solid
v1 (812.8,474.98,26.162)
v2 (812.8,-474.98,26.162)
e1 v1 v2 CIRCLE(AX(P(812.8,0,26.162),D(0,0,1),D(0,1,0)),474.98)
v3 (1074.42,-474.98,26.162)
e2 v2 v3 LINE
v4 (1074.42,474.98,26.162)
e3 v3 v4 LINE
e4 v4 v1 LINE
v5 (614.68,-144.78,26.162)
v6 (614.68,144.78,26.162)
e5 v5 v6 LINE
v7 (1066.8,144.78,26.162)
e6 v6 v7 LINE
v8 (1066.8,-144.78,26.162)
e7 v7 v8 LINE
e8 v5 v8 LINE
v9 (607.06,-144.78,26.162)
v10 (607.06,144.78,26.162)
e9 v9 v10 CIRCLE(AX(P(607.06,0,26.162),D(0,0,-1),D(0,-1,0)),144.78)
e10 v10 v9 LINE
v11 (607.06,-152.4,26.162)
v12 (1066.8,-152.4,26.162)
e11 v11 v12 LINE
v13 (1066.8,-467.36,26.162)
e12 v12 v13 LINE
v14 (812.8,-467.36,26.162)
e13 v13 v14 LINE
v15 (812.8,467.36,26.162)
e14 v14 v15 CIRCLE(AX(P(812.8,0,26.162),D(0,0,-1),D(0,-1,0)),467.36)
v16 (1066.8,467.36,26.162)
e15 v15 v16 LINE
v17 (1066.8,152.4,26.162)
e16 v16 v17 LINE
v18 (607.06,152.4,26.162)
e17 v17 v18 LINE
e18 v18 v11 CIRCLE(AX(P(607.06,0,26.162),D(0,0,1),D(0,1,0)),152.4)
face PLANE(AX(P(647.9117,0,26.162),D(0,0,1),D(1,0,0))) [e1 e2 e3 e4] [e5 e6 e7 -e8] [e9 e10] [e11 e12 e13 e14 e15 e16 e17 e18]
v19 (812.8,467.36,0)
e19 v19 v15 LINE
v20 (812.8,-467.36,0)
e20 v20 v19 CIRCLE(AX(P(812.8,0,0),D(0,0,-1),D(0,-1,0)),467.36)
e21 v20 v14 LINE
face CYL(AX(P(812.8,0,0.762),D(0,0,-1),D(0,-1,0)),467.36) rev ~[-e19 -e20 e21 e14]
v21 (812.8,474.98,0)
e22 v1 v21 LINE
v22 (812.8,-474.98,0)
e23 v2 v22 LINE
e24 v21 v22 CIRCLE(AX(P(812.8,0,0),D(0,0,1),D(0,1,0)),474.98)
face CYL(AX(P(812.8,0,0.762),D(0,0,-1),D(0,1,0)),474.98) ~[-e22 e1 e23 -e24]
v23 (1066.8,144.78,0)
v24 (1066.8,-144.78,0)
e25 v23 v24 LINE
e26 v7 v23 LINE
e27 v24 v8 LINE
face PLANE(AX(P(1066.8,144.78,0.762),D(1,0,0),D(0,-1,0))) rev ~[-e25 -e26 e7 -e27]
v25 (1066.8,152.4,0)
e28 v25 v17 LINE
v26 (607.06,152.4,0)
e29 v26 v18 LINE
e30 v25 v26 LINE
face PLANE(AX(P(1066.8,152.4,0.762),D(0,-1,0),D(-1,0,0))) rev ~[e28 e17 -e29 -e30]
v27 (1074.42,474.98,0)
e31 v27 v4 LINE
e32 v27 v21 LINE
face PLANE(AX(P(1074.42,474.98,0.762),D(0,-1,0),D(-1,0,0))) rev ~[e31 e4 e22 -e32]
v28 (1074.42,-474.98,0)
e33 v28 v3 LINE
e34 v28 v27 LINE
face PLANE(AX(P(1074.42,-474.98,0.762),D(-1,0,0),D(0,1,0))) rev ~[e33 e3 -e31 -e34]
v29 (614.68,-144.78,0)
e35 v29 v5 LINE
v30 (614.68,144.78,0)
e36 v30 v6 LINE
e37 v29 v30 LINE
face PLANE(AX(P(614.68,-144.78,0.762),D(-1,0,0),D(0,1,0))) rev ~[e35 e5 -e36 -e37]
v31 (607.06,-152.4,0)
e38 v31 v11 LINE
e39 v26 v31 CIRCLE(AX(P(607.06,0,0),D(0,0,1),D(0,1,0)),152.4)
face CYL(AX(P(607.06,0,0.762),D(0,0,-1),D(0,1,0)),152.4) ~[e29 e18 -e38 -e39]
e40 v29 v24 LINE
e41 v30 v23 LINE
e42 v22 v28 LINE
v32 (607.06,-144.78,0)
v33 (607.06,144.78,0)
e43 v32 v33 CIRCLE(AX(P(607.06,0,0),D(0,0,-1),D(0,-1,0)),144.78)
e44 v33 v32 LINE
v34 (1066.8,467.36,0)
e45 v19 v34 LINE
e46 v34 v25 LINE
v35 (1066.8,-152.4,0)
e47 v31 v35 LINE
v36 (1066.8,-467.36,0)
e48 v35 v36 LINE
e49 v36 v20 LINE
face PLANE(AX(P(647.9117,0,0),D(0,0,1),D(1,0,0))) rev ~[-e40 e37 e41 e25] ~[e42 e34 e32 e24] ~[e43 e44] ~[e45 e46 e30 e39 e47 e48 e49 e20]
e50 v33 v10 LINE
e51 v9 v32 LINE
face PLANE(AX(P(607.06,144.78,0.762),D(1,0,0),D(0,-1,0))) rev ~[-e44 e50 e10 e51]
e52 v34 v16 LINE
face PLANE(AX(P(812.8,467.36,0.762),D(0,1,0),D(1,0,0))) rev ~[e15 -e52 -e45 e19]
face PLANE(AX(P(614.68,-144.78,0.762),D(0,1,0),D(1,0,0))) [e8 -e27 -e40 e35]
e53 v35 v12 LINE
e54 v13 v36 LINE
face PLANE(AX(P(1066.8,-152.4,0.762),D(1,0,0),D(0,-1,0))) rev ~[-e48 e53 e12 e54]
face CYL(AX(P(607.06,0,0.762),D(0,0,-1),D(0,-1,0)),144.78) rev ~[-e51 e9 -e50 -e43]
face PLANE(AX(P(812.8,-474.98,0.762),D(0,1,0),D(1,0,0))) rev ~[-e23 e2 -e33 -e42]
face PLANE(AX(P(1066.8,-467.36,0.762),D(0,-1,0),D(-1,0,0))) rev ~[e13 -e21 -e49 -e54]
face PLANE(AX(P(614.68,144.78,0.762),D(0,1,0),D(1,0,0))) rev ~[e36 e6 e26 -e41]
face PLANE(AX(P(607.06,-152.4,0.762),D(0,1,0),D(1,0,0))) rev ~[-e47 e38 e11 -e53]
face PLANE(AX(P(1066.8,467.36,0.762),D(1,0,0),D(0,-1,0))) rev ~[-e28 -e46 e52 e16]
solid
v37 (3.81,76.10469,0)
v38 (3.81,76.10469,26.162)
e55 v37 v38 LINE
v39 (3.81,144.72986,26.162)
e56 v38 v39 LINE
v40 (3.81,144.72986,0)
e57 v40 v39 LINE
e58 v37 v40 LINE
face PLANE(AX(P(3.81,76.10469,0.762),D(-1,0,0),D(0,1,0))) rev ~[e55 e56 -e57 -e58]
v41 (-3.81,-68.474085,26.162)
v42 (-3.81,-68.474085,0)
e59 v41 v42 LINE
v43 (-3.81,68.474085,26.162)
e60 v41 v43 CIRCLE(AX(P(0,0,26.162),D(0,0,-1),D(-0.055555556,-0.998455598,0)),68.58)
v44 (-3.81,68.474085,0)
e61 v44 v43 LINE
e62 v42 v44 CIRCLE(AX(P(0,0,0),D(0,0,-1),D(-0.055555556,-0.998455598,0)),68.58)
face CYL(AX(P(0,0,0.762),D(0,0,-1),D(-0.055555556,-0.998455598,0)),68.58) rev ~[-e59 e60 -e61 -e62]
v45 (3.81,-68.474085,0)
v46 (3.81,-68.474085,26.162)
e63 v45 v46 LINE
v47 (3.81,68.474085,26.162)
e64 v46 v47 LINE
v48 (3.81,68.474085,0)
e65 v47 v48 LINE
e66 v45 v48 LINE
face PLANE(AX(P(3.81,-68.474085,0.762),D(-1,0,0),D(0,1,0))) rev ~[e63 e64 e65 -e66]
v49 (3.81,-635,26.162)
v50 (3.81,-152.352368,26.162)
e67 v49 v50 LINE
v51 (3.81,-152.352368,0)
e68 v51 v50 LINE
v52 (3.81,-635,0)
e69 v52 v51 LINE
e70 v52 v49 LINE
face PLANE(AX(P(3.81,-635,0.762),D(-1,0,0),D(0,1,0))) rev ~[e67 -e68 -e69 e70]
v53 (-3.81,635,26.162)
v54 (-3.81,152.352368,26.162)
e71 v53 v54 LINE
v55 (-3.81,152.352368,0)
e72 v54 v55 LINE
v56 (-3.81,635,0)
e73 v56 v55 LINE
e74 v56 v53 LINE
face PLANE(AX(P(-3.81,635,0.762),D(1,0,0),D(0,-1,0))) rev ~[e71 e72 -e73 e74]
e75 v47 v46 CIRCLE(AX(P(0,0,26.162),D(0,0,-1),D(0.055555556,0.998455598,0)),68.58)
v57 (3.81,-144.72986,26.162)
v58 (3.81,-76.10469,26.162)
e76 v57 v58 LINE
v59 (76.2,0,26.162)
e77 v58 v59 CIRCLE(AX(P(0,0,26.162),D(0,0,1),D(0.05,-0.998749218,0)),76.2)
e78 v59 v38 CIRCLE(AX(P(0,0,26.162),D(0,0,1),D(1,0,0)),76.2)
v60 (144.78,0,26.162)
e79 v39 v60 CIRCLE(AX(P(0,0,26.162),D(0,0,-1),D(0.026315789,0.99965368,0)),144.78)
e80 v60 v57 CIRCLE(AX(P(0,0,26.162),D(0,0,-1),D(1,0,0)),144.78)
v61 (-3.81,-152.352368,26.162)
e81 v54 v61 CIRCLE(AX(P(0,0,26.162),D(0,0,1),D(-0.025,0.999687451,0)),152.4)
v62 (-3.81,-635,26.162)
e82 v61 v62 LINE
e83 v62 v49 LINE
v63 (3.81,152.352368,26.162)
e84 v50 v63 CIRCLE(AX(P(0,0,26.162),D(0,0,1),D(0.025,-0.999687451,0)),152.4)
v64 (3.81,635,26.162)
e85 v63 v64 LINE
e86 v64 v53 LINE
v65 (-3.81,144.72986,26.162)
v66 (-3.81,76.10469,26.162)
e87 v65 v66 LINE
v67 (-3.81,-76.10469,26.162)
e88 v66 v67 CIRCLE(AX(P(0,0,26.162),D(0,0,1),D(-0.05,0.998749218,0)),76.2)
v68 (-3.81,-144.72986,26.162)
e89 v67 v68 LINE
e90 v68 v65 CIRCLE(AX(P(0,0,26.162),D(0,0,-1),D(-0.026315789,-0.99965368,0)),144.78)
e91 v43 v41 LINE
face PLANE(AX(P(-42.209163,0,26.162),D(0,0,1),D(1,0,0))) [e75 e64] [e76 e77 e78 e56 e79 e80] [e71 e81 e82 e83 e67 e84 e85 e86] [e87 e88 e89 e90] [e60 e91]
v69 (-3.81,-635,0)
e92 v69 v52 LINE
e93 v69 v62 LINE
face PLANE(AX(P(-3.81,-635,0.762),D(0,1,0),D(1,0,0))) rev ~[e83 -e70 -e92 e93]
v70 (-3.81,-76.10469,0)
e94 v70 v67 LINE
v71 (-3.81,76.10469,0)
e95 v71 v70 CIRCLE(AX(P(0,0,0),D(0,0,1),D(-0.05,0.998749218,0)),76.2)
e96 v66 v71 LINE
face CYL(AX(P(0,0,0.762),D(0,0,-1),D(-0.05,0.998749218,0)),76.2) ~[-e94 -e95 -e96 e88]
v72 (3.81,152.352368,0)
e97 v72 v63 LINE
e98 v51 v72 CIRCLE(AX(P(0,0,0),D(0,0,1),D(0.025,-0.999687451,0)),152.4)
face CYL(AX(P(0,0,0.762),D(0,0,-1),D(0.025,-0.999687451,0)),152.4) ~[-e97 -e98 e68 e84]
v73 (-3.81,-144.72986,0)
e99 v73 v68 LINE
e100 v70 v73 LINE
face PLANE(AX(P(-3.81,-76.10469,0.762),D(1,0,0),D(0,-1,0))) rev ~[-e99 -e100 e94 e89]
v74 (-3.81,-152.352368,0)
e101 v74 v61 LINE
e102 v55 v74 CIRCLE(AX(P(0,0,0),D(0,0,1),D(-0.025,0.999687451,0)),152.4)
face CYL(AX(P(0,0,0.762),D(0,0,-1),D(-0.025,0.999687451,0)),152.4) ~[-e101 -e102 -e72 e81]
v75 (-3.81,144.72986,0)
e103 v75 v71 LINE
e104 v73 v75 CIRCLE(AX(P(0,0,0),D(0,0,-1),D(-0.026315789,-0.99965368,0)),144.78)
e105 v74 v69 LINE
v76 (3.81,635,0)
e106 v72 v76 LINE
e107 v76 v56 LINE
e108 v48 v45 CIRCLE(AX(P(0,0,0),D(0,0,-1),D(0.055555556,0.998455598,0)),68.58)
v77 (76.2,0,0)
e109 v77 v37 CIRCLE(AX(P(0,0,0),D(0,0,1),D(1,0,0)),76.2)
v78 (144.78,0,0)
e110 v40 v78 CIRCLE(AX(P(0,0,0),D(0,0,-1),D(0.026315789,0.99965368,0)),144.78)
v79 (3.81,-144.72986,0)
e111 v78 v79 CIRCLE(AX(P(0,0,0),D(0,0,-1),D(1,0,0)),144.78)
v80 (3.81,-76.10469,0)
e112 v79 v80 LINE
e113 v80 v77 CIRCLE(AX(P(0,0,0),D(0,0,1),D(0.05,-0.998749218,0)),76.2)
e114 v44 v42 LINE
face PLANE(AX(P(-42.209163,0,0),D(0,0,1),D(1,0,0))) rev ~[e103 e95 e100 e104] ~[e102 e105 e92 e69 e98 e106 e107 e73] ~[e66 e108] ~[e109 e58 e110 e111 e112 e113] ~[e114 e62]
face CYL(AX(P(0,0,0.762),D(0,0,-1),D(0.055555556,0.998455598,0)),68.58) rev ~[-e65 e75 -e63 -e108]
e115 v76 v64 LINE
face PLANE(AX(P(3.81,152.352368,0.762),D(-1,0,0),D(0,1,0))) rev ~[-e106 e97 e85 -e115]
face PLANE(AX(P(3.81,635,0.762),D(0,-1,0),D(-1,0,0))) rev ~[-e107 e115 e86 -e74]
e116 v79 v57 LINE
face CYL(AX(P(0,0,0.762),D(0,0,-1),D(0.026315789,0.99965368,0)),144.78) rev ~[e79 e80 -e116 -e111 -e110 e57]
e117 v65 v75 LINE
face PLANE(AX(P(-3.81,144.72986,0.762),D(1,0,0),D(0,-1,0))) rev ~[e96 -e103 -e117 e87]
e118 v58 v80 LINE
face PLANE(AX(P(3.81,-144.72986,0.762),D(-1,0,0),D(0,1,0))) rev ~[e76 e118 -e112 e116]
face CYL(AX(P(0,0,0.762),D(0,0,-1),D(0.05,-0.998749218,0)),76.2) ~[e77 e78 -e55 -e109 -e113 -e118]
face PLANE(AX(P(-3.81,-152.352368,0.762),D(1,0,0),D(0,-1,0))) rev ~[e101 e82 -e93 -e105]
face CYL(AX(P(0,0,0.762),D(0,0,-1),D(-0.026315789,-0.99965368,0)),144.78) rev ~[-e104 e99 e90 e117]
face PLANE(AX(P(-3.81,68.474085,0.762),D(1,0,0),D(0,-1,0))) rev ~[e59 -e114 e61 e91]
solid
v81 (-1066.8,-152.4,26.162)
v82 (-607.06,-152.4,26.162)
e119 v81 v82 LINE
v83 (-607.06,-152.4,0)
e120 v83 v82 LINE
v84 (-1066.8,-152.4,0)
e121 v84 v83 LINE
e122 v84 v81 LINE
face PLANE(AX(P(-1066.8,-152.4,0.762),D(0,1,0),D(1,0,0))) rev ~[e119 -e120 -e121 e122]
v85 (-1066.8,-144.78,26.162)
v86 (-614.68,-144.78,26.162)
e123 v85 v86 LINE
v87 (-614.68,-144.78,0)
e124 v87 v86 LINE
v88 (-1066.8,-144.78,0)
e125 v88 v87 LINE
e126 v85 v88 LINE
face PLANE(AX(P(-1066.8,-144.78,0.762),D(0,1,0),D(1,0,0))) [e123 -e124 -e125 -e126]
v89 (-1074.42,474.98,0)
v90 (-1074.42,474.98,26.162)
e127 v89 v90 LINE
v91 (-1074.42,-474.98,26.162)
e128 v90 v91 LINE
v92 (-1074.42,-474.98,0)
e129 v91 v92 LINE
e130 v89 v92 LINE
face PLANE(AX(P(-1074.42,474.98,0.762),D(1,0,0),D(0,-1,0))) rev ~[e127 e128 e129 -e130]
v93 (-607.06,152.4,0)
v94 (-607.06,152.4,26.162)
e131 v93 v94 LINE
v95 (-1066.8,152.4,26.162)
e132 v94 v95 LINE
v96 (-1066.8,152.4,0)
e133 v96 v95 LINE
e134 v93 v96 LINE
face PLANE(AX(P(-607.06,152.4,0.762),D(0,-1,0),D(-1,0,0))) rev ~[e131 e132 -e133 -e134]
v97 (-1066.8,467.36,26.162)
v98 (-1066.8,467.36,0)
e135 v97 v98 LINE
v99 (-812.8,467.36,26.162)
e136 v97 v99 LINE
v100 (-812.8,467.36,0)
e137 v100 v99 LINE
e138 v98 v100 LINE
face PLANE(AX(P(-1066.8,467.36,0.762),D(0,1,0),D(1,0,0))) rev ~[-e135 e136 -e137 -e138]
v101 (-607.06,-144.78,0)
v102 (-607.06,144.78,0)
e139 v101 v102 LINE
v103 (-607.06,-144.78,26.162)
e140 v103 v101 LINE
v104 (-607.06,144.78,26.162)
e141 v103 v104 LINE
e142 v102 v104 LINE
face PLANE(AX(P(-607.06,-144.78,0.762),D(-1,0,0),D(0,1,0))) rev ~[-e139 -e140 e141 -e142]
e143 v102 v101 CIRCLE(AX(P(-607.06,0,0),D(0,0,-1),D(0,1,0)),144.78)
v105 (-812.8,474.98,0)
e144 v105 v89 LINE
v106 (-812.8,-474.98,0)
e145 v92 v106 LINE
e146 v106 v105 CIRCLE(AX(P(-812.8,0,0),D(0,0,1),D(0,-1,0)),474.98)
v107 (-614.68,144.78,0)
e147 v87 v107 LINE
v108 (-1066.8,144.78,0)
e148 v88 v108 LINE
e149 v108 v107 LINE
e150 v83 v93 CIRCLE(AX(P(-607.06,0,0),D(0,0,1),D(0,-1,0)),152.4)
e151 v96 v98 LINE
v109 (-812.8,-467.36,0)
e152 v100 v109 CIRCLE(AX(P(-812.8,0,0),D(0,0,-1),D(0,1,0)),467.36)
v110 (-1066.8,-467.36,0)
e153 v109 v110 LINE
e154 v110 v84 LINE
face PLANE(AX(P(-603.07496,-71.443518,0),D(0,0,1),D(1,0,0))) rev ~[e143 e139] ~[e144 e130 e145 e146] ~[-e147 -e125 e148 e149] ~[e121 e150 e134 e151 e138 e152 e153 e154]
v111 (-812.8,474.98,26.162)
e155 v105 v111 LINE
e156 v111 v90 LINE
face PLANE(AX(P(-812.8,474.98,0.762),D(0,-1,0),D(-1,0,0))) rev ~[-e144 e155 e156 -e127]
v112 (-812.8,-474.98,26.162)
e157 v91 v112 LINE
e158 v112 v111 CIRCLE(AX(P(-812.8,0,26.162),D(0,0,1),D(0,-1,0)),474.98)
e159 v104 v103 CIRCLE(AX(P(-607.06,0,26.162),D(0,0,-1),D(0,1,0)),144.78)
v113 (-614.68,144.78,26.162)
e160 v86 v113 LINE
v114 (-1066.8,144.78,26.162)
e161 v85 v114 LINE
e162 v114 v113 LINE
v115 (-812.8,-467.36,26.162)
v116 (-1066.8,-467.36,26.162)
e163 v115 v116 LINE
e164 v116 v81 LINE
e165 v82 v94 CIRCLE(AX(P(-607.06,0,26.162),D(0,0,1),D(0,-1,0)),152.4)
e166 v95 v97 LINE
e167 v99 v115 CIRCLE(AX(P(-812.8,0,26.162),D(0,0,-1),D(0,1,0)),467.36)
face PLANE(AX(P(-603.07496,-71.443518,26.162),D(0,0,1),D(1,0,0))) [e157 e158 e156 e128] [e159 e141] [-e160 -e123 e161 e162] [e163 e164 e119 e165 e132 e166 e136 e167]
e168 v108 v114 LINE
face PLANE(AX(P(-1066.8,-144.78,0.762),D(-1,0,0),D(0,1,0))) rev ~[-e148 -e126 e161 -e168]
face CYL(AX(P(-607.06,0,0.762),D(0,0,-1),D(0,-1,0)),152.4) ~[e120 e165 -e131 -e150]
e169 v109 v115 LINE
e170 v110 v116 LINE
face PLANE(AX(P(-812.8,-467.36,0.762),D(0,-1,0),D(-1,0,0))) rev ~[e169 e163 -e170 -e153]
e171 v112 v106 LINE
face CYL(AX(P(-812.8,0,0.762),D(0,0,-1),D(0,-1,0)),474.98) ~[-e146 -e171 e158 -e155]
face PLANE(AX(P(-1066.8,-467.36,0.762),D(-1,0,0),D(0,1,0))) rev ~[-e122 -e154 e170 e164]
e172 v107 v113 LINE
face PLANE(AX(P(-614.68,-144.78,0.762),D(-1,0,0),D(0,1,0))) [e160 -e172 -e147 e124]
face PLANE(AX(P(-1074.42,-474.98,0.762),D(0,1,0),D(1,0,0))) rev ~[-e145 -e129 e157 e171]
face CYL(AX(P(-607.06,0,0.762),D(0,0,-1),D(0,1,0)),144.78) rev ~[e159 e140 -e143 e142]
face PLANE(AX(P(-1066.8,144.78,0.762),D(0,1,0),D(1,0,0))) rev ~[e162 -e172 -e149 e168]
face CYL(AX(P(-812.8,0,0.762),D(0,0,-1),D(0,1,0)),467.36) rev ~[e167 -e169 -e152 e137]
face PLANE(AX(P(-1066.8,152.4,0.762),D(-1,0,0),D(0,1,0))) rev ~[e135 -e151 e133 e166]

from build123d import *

# Parameters (mm, degrees)
F0_W     = 254
F0_H     = 7.62
F0_W_2   = 7.62
F0_H_2   = 289.56
F0_W_3   = 452.12
F1_DEPTH = 0.762
F2_DEPTH = 25.4
F3_DEPTH = 25.4
F4_DEPTH = 25.4


with BuildPart() as f1:
    # F0 (on Top) → F1 (new body)
    with BuildSketch(Plane.XY):
        with BuildLine():
            Line((-1066.8, -467.36), (-1066.8, -474.98))
            Line((-1066.8, -474.98), (-812.8, -474.98))
            ThreePointArc((-812.8, -474.98), (-337.82, 0), (-812.8, 474.98))
            Line((-812.8, 474.98), (-812.8, 467.36))
            ThreePointArc((-812.8, 467.36), (-345.44, 0), (-812.8, -467.36))
            Line((-812.8, -467.36), (-1066.8, -467.36))
        make_face()
        with Locations((-939.8, 471.17)):
            Rectangle(F0_W, F0_H)
        with Locations((-610.87, 0)):
            Rectangle(F0_W_2, F0_H_2)
        with Locations((-840.74, 148.59)):
            Rectangle(F0_W_3, F0_H)
        with Locations((-610.87, 148.59)):
            Rectangle(F0_W_2, F0_H)
        with BuildLine():
            Line((-607.06, -144.78), (-607.06, -152.4))
            ThreePointArc((-607.06, -152.4), (-454.66, 0), (-607.06, 152.4))
            Line((-607.06, 152.4), (-607.06, 144.78))
            ThreePointArc((-607.06, 144.78), (-462.28, 0), (-607.06, -144.78))
        make_face()
        with Locations((-840.74, -148.59)):
            Rectangle(F0_W_3, F0_H)
        with Locations((-610.87, -148.59)):
            Rectangle(F0_W_2, F0_H)
        Polygon((-1074.42, -474.98), (-1066.8, -474.98), (-1066.8, -467.36), (-1066.8, -152.4), (-1066.8, -144.78), (-1066.8, 144.78), (-1066.8, 152.4), (-1066.8, 467.36), (-1066.8, 474.98), (-1074.42, 474.98), align=None)
    extrude(amount=F1_DEPTH)

    # F2 (add): a face of the model
    f2_faces = [f1.faces().sort_by_distance(p)[0] for p in [
        (-939.8, -468.5620830094, 0.762),
    ]]
    extrude(f2_faces, amount=F2_DEPTH)


with BuildPart() as f1b:
    # F0 (on Top) → F1, piece 2 (new body)
    with BuildSketch(Plane.XY):
        with BuildLine():
            ThreePointArc((-3.81, 76.1046903942), (-76.2, 0), (-3.81, -76.1046903942))
            Line((-3.81, -76.1046903942), (-3.81, -68.4740848789))
            ThreePointArc((-3.81, -68.4740848789), (-68.58, 0), (-3.81, 68.4740848789))
            Line((-3.81, 68.4740848789), (-3.81, 76.1046903942))
        make_face()
        with BuildLine():
            Line((3.81, -68.4740848789), (3.81, -76.1046903942))
            ThreePointArc((3.81, -76.1046903942), (55.212145403, -52.5172257455), (76.2, 0))
            ThreePointArc((76.2, 0), (55.212145403, 52.5172257455), (3.81, 76.1046903942))
            Line((3.81, 76.1046903942), (3.81, 68.4740848789))
            ThreePointArc((3.81, 68.4740848789), (49.8222149247, 47.1270973008), (68.58, 0))
            ThreePointArc((68.58, 0), (49.8222149247, -47.1270973008), (3.81, -68.4740848789))
        make_face()
        with BuildLine():
            ThreePointArc((3.81, 76.1046903942), (1.9055959646, 76.176168872), (0, 76.2))
            Line((0, 76.2), (0, 68.58))
            ThreePointArc((0, 68.58), (1.9057359479, 68.553516106), (3.81, 68.4740848789))
            Line((3.81, 68.4740848789), (3.81, 76.1046903942))
        make_face()
        with BuildLine():
            ThreePointArc((0, 76.2), (-1.9055959646, 76.176168872), (-3.81, 76.1046903942))
            Line((-3.81, 76.1046903942), (-3.81, 68.4740848789))
            ThreePointArc((-3.81, 68.4740848789), (-1.9057359479, 68.553516106), (0, 68.58))
            Line((0, 68.58), (0, 76.2))
        make_face()
        with BuildLine():
            ThreePointArc((-3.81, 152.3523675563), (-152.4, 0), (-3.81, -152.3523675563))
            Line((-3.81, -152.3523675563), (-3.81, -144.7298597388))
            ThreePointArc((-3.81, -144.7298597388), (-144.78, 0), (-3.81, 144.7298597388))
            Line((-3.81, 144.7298597388), (-3.81, 152.3523675563))
        make_face()
        with BuildLine():
            ThreePointArc((0, 152.4), (-1.9051488688, 152.3880914238), (-3.81, 152.3523675563))
            Line((-3.81, 152.3523675563), (-3.81, 144.7298597388))
            ThreePointArc((-3.81, 144.7298597388), (-1.9051649565, 144.767464392), (0, 144.78))
            Line((0, 144.78), (0, 152.4))
        make_face()
        with BuildLine():
            ThreePointArc((3.81, 152.3523675563), (1.9051488688, 152.3880914238), (0, 152.4))
            Line((0, 152.4), (0, 144.78))
            ThreePointArc((0, 144.78), (1.9051649565, 144.767464392), (3.81, 144.7298597388))
            Line((3.81, 144.7298597388), (3.81, 152.3523675563))
        make_face()
        with BuildLine():
            Line((3.81, -144.7298597388), (3.81, -152.3523675563))
            ThreePointArc((3.81, -152.3523675563), (109.1017965022, -106.4075091335), (152.4, 0))
            ThreePointArc((152.4, 0), (109.1017965022, 106.4075091335), (3.81, 152.3523675563))
            Line((3.81, 152.3523675563), (3.81, 144.7298597388))
            ThreePointArc((3.81, 144.7298597388), (103.7132108268, 101.0189007067), (144.78, 0))
            ThreePointArc((144.78, 0), (103.7132108268, -101.0189007067), (3.81, -144.7298597388))
        make_face()
        with BuildLine():
            Line((-3.81, -68.4740848789), (-3.81, -76.1046903942))
            ThreePointArc((-3.81, -76.1046903942), (-1.9055959646, -76.176168872), (0, -76.2))
            Line((0, -76.2), (0, -68.58))
            ThreePointArc((0, -68.58), (-1.9057359479, -68.553516106), (-3.81, -68.4740848789))
        make_face()
        with BuildLine():
            Line((0, -68.58), (0, -76.2))
            ThreePointArc((0, -76.2), (1.9055959646, -76.176168872), (3.81, -76.1046903942))
            Line((3.81, -76.1046903942), (3.81, -68.4740848789))
            ThreePointArc((3.81, -68.4740848789), (1.9057359479, -68.553516106), (0, -68.58))
        make_face()
        with BuildLine():
            Line((-3.81, -144.7298597388), (-3.81, -152.3523675563))
            ThreePointArc((-3.81, -152.3523675563), (-1.9051488688, -152.3880914238), (0, -152.4))
            Line((0, -152.4), (0, -144.78))
            ThreePointArc((0, -144.78), (-1.9051649565, -144.767464392), (-3.81, -144.7298597388))
        make_face()
        with BuildLine():
            Line((0, -144.78), (0, -152.4))
            ThreePointArc((0, -152.4), (1.9051488688, -152.3880914238), (3.81, -152.3523675563))
            Line((3.81, -152.3523675563), (3.81, -144.7298597388))
            ThreePointArc((3.81, -144.7298597388), (1.9051649565, -144.767464392), (0, -144.78))
        make_face()
        with BuildLine():
            Line((-3.81, 635), (-3.81, 152.3523675563))
            ThreePointArc((-3.81, 152.3523675563), (-1.9051488688, 152.3880914238), (0, 152.4))
            Line((0, 152.4), (0, 635))
            Line((0, 635), (-3.81, 635))
        make_face()
        with BuildLine():
            Line((0, 635), (0, 152.4))
            ThreePointArc((0, 152.4), (1.9051488688, 152.3880914238), (3.81, 152.3523675563))
            Line((3.81, 152.3523675563), (3.81, 635))
            Line((3.81, 635), (0, 635))
        make_face()
        with BuildLine():
            ThreePointArc((0, 144.78), (-1.9051649565, 144.767464392), (-3.81, 144.7298597388))
            Line((-3.81, 144.7298597388), (-3.81, 76.1046903942))
            ThreePointArc((-3.81, 76.1046903942), (-1.9055959646, 76.176168872), (0, 76.2))
            Line((0, 76.2), (0, 144.78))
        make_face()
        with BuildLine():
            ThreePointArc((3.81, 144.7298597388), (1.9051649565, 144.767464392), (0, 144.78))
            Line((0, 144.78), (0, 76.2))
            ThreePointArc((0, 76.2), (1.9055959646, 76.176168872), (3.81, 76.1046903942))
            Line((3.81, 76.1046903942), (3.81, 144.7298597388))
        make_face()
        with BuildLine():
            Line((-3.81, 68.4740848789), (-3.81, -68.4740848789))
            ThreePointArc((-3.81, -68.4740848789), (-1.9057359479, -68.553516106), (0, -68.58))
            Line((0, -68.58), (0, 68.58))
            ThreePointArc((0, 68.58), (-1.9057359479, 68.553516106), (-3.81, 68.4740848789))
        make_face()
        with BuildLine():
            Line((0, 68.58), (0, -68.58))
            ThreePointArc((0, -68.58), (1.9057359479, -68.553516106), (3.81, -68.4740848789))
            Line((3.81, -68.4740848789), (3.81, 68.4740848789))
            ThreePointArc((3.81, 68.4740848789), (1.9057359479, 68.553516106), (0, 68.58))
        make_face()
        with BuildLine():
            Line((-3.81, -76.1046903942), (-3.81, -144.7298597388))
            ThreePointArc((-3.81, -144.7298597388), (-1.9051649565, -144.767464392), (0, -144.78))
            Line((0, -144.78), (0, -76.2))
            ThreePointArc((0, -76.2), (-1.9055959646, -76.176168872), (-3.81, -76.1046903942))
        make_face()
        with BuildLine():
            Line((0, -76.2), (0, -144.78))
            ThreePointArc((0, -144.78), (1.9051649565, -144.767464392), (3.81, -144.7298597388))
            Line((3.81, -144.7298597388), (3.81, -76.1046903942))
            ThreePointArc((3.81, -76.1046903942), (1.9055959646, -76.176168872), (0, -76.2))
        make_face()
        with BuildLine():
            Line((-3.81, -152.3523675563), (-3.81, -635))
            Line((-3.81, -635), (0, -635))
            Line((0, -635), (0, -152.4))
            ThreePointArc((0, -152.4), (-1.9051488688, -152.3880914238), (-3.81, -152.3523675563))
        make_face()
        with BuildLine():
            Line((0, -152.4), (0, -635))
            Line((0, -635), (3.81, -635))
            Line((3.81, -635), (3.81, -152.3523675563))
            ThreePointArc((3.81, -152.3523675563), (1.9051488688, -152.3880914238), (0, -152.4))
        make_face()
    extrude(amount=F1_DEPTH)

    # F3 (add): a face of the model
    f3_faces = [f1b.faces().sort_by_distance(p)[0] for p in [
        (0, -3e-10, 0.762),
    ]]
    extrude(f3_faces, amount=F3_DEPTH)


with BuildPart() as f1c:
    # F0 (on Top) → F1, piece 3 (new body)
    with BuildSketch(Plane.XY):
        with BuildLine():
            Line((812.8, -474.98), (1066.8, -474.98))
            Line((1066.8, -474.98), (1066.8, -467.36))
            Line((1066.8, -467.36), (812.8, -467.36))
            ThreePointArc((812.8, -467.36), (345.44, 0), (812.8, 467.36))
            Line((812.8, 467.36), (1066.8, 467.36))
            Line((1066.8, 467.36), (1066.8, 474.98))
            Line((1066.8, 474.98), (812.8, 474.98))
            ThreePointArc((812.8, 474.98), (337.82, 0), (812.8, -474.98))
        make_face()
        with Locations((840.74, 148.59)):
            Rectangle(F0_W_3, F0_H)
        with Locations((610.87, 148.59)):
            Rectangle(F0_W_2, F0_H)
        with Locations((610.87, 0)):
            Rectangle(F0_W_2, F0_H_2)
        with BuildLine():
            ThreePointArc((607.06, 152.4), (454.66, 0), (607.06, -152.4))
            Line((607.06, -152.4), (607.06, -144.78))
            ThreePointArc((607.06, -144.78), (462.28, 0), (607.06, 144.78))
            Line((607.06, 144.78), (607.06, 152.4))
        make_face()
        with Locations((840.74, -148.59)):
            Rectangle(F0_W_3, F0_H)
        with Locations((610.87, -148.59)):
            Rectangle(F0_W_2, F0_H)
        Polygon((1066.8, -467.36), (1066.8, -474.98), (1074.42, -474.98), (1074.42, 474.98), (1066.8, 474.98), (1066.8, 467.36), (1066.8, 152.4), (1066.8, 144.78), (1066.8, -144.78), (1066.8, -152.4), align=None)
    extrude(amount=F1_DEPTH)

    # F4 (add): a face of the model
    f4_faces = [f1c.faces().sort_by_distance(p)[0] for p in [
        (943.61, -473.7779169906, 0.762),
    ]]
    extrude(f4_faces, amount=F4_DEPTH)


solid = Compound([f1.part, f1b.part, f1c.part])
